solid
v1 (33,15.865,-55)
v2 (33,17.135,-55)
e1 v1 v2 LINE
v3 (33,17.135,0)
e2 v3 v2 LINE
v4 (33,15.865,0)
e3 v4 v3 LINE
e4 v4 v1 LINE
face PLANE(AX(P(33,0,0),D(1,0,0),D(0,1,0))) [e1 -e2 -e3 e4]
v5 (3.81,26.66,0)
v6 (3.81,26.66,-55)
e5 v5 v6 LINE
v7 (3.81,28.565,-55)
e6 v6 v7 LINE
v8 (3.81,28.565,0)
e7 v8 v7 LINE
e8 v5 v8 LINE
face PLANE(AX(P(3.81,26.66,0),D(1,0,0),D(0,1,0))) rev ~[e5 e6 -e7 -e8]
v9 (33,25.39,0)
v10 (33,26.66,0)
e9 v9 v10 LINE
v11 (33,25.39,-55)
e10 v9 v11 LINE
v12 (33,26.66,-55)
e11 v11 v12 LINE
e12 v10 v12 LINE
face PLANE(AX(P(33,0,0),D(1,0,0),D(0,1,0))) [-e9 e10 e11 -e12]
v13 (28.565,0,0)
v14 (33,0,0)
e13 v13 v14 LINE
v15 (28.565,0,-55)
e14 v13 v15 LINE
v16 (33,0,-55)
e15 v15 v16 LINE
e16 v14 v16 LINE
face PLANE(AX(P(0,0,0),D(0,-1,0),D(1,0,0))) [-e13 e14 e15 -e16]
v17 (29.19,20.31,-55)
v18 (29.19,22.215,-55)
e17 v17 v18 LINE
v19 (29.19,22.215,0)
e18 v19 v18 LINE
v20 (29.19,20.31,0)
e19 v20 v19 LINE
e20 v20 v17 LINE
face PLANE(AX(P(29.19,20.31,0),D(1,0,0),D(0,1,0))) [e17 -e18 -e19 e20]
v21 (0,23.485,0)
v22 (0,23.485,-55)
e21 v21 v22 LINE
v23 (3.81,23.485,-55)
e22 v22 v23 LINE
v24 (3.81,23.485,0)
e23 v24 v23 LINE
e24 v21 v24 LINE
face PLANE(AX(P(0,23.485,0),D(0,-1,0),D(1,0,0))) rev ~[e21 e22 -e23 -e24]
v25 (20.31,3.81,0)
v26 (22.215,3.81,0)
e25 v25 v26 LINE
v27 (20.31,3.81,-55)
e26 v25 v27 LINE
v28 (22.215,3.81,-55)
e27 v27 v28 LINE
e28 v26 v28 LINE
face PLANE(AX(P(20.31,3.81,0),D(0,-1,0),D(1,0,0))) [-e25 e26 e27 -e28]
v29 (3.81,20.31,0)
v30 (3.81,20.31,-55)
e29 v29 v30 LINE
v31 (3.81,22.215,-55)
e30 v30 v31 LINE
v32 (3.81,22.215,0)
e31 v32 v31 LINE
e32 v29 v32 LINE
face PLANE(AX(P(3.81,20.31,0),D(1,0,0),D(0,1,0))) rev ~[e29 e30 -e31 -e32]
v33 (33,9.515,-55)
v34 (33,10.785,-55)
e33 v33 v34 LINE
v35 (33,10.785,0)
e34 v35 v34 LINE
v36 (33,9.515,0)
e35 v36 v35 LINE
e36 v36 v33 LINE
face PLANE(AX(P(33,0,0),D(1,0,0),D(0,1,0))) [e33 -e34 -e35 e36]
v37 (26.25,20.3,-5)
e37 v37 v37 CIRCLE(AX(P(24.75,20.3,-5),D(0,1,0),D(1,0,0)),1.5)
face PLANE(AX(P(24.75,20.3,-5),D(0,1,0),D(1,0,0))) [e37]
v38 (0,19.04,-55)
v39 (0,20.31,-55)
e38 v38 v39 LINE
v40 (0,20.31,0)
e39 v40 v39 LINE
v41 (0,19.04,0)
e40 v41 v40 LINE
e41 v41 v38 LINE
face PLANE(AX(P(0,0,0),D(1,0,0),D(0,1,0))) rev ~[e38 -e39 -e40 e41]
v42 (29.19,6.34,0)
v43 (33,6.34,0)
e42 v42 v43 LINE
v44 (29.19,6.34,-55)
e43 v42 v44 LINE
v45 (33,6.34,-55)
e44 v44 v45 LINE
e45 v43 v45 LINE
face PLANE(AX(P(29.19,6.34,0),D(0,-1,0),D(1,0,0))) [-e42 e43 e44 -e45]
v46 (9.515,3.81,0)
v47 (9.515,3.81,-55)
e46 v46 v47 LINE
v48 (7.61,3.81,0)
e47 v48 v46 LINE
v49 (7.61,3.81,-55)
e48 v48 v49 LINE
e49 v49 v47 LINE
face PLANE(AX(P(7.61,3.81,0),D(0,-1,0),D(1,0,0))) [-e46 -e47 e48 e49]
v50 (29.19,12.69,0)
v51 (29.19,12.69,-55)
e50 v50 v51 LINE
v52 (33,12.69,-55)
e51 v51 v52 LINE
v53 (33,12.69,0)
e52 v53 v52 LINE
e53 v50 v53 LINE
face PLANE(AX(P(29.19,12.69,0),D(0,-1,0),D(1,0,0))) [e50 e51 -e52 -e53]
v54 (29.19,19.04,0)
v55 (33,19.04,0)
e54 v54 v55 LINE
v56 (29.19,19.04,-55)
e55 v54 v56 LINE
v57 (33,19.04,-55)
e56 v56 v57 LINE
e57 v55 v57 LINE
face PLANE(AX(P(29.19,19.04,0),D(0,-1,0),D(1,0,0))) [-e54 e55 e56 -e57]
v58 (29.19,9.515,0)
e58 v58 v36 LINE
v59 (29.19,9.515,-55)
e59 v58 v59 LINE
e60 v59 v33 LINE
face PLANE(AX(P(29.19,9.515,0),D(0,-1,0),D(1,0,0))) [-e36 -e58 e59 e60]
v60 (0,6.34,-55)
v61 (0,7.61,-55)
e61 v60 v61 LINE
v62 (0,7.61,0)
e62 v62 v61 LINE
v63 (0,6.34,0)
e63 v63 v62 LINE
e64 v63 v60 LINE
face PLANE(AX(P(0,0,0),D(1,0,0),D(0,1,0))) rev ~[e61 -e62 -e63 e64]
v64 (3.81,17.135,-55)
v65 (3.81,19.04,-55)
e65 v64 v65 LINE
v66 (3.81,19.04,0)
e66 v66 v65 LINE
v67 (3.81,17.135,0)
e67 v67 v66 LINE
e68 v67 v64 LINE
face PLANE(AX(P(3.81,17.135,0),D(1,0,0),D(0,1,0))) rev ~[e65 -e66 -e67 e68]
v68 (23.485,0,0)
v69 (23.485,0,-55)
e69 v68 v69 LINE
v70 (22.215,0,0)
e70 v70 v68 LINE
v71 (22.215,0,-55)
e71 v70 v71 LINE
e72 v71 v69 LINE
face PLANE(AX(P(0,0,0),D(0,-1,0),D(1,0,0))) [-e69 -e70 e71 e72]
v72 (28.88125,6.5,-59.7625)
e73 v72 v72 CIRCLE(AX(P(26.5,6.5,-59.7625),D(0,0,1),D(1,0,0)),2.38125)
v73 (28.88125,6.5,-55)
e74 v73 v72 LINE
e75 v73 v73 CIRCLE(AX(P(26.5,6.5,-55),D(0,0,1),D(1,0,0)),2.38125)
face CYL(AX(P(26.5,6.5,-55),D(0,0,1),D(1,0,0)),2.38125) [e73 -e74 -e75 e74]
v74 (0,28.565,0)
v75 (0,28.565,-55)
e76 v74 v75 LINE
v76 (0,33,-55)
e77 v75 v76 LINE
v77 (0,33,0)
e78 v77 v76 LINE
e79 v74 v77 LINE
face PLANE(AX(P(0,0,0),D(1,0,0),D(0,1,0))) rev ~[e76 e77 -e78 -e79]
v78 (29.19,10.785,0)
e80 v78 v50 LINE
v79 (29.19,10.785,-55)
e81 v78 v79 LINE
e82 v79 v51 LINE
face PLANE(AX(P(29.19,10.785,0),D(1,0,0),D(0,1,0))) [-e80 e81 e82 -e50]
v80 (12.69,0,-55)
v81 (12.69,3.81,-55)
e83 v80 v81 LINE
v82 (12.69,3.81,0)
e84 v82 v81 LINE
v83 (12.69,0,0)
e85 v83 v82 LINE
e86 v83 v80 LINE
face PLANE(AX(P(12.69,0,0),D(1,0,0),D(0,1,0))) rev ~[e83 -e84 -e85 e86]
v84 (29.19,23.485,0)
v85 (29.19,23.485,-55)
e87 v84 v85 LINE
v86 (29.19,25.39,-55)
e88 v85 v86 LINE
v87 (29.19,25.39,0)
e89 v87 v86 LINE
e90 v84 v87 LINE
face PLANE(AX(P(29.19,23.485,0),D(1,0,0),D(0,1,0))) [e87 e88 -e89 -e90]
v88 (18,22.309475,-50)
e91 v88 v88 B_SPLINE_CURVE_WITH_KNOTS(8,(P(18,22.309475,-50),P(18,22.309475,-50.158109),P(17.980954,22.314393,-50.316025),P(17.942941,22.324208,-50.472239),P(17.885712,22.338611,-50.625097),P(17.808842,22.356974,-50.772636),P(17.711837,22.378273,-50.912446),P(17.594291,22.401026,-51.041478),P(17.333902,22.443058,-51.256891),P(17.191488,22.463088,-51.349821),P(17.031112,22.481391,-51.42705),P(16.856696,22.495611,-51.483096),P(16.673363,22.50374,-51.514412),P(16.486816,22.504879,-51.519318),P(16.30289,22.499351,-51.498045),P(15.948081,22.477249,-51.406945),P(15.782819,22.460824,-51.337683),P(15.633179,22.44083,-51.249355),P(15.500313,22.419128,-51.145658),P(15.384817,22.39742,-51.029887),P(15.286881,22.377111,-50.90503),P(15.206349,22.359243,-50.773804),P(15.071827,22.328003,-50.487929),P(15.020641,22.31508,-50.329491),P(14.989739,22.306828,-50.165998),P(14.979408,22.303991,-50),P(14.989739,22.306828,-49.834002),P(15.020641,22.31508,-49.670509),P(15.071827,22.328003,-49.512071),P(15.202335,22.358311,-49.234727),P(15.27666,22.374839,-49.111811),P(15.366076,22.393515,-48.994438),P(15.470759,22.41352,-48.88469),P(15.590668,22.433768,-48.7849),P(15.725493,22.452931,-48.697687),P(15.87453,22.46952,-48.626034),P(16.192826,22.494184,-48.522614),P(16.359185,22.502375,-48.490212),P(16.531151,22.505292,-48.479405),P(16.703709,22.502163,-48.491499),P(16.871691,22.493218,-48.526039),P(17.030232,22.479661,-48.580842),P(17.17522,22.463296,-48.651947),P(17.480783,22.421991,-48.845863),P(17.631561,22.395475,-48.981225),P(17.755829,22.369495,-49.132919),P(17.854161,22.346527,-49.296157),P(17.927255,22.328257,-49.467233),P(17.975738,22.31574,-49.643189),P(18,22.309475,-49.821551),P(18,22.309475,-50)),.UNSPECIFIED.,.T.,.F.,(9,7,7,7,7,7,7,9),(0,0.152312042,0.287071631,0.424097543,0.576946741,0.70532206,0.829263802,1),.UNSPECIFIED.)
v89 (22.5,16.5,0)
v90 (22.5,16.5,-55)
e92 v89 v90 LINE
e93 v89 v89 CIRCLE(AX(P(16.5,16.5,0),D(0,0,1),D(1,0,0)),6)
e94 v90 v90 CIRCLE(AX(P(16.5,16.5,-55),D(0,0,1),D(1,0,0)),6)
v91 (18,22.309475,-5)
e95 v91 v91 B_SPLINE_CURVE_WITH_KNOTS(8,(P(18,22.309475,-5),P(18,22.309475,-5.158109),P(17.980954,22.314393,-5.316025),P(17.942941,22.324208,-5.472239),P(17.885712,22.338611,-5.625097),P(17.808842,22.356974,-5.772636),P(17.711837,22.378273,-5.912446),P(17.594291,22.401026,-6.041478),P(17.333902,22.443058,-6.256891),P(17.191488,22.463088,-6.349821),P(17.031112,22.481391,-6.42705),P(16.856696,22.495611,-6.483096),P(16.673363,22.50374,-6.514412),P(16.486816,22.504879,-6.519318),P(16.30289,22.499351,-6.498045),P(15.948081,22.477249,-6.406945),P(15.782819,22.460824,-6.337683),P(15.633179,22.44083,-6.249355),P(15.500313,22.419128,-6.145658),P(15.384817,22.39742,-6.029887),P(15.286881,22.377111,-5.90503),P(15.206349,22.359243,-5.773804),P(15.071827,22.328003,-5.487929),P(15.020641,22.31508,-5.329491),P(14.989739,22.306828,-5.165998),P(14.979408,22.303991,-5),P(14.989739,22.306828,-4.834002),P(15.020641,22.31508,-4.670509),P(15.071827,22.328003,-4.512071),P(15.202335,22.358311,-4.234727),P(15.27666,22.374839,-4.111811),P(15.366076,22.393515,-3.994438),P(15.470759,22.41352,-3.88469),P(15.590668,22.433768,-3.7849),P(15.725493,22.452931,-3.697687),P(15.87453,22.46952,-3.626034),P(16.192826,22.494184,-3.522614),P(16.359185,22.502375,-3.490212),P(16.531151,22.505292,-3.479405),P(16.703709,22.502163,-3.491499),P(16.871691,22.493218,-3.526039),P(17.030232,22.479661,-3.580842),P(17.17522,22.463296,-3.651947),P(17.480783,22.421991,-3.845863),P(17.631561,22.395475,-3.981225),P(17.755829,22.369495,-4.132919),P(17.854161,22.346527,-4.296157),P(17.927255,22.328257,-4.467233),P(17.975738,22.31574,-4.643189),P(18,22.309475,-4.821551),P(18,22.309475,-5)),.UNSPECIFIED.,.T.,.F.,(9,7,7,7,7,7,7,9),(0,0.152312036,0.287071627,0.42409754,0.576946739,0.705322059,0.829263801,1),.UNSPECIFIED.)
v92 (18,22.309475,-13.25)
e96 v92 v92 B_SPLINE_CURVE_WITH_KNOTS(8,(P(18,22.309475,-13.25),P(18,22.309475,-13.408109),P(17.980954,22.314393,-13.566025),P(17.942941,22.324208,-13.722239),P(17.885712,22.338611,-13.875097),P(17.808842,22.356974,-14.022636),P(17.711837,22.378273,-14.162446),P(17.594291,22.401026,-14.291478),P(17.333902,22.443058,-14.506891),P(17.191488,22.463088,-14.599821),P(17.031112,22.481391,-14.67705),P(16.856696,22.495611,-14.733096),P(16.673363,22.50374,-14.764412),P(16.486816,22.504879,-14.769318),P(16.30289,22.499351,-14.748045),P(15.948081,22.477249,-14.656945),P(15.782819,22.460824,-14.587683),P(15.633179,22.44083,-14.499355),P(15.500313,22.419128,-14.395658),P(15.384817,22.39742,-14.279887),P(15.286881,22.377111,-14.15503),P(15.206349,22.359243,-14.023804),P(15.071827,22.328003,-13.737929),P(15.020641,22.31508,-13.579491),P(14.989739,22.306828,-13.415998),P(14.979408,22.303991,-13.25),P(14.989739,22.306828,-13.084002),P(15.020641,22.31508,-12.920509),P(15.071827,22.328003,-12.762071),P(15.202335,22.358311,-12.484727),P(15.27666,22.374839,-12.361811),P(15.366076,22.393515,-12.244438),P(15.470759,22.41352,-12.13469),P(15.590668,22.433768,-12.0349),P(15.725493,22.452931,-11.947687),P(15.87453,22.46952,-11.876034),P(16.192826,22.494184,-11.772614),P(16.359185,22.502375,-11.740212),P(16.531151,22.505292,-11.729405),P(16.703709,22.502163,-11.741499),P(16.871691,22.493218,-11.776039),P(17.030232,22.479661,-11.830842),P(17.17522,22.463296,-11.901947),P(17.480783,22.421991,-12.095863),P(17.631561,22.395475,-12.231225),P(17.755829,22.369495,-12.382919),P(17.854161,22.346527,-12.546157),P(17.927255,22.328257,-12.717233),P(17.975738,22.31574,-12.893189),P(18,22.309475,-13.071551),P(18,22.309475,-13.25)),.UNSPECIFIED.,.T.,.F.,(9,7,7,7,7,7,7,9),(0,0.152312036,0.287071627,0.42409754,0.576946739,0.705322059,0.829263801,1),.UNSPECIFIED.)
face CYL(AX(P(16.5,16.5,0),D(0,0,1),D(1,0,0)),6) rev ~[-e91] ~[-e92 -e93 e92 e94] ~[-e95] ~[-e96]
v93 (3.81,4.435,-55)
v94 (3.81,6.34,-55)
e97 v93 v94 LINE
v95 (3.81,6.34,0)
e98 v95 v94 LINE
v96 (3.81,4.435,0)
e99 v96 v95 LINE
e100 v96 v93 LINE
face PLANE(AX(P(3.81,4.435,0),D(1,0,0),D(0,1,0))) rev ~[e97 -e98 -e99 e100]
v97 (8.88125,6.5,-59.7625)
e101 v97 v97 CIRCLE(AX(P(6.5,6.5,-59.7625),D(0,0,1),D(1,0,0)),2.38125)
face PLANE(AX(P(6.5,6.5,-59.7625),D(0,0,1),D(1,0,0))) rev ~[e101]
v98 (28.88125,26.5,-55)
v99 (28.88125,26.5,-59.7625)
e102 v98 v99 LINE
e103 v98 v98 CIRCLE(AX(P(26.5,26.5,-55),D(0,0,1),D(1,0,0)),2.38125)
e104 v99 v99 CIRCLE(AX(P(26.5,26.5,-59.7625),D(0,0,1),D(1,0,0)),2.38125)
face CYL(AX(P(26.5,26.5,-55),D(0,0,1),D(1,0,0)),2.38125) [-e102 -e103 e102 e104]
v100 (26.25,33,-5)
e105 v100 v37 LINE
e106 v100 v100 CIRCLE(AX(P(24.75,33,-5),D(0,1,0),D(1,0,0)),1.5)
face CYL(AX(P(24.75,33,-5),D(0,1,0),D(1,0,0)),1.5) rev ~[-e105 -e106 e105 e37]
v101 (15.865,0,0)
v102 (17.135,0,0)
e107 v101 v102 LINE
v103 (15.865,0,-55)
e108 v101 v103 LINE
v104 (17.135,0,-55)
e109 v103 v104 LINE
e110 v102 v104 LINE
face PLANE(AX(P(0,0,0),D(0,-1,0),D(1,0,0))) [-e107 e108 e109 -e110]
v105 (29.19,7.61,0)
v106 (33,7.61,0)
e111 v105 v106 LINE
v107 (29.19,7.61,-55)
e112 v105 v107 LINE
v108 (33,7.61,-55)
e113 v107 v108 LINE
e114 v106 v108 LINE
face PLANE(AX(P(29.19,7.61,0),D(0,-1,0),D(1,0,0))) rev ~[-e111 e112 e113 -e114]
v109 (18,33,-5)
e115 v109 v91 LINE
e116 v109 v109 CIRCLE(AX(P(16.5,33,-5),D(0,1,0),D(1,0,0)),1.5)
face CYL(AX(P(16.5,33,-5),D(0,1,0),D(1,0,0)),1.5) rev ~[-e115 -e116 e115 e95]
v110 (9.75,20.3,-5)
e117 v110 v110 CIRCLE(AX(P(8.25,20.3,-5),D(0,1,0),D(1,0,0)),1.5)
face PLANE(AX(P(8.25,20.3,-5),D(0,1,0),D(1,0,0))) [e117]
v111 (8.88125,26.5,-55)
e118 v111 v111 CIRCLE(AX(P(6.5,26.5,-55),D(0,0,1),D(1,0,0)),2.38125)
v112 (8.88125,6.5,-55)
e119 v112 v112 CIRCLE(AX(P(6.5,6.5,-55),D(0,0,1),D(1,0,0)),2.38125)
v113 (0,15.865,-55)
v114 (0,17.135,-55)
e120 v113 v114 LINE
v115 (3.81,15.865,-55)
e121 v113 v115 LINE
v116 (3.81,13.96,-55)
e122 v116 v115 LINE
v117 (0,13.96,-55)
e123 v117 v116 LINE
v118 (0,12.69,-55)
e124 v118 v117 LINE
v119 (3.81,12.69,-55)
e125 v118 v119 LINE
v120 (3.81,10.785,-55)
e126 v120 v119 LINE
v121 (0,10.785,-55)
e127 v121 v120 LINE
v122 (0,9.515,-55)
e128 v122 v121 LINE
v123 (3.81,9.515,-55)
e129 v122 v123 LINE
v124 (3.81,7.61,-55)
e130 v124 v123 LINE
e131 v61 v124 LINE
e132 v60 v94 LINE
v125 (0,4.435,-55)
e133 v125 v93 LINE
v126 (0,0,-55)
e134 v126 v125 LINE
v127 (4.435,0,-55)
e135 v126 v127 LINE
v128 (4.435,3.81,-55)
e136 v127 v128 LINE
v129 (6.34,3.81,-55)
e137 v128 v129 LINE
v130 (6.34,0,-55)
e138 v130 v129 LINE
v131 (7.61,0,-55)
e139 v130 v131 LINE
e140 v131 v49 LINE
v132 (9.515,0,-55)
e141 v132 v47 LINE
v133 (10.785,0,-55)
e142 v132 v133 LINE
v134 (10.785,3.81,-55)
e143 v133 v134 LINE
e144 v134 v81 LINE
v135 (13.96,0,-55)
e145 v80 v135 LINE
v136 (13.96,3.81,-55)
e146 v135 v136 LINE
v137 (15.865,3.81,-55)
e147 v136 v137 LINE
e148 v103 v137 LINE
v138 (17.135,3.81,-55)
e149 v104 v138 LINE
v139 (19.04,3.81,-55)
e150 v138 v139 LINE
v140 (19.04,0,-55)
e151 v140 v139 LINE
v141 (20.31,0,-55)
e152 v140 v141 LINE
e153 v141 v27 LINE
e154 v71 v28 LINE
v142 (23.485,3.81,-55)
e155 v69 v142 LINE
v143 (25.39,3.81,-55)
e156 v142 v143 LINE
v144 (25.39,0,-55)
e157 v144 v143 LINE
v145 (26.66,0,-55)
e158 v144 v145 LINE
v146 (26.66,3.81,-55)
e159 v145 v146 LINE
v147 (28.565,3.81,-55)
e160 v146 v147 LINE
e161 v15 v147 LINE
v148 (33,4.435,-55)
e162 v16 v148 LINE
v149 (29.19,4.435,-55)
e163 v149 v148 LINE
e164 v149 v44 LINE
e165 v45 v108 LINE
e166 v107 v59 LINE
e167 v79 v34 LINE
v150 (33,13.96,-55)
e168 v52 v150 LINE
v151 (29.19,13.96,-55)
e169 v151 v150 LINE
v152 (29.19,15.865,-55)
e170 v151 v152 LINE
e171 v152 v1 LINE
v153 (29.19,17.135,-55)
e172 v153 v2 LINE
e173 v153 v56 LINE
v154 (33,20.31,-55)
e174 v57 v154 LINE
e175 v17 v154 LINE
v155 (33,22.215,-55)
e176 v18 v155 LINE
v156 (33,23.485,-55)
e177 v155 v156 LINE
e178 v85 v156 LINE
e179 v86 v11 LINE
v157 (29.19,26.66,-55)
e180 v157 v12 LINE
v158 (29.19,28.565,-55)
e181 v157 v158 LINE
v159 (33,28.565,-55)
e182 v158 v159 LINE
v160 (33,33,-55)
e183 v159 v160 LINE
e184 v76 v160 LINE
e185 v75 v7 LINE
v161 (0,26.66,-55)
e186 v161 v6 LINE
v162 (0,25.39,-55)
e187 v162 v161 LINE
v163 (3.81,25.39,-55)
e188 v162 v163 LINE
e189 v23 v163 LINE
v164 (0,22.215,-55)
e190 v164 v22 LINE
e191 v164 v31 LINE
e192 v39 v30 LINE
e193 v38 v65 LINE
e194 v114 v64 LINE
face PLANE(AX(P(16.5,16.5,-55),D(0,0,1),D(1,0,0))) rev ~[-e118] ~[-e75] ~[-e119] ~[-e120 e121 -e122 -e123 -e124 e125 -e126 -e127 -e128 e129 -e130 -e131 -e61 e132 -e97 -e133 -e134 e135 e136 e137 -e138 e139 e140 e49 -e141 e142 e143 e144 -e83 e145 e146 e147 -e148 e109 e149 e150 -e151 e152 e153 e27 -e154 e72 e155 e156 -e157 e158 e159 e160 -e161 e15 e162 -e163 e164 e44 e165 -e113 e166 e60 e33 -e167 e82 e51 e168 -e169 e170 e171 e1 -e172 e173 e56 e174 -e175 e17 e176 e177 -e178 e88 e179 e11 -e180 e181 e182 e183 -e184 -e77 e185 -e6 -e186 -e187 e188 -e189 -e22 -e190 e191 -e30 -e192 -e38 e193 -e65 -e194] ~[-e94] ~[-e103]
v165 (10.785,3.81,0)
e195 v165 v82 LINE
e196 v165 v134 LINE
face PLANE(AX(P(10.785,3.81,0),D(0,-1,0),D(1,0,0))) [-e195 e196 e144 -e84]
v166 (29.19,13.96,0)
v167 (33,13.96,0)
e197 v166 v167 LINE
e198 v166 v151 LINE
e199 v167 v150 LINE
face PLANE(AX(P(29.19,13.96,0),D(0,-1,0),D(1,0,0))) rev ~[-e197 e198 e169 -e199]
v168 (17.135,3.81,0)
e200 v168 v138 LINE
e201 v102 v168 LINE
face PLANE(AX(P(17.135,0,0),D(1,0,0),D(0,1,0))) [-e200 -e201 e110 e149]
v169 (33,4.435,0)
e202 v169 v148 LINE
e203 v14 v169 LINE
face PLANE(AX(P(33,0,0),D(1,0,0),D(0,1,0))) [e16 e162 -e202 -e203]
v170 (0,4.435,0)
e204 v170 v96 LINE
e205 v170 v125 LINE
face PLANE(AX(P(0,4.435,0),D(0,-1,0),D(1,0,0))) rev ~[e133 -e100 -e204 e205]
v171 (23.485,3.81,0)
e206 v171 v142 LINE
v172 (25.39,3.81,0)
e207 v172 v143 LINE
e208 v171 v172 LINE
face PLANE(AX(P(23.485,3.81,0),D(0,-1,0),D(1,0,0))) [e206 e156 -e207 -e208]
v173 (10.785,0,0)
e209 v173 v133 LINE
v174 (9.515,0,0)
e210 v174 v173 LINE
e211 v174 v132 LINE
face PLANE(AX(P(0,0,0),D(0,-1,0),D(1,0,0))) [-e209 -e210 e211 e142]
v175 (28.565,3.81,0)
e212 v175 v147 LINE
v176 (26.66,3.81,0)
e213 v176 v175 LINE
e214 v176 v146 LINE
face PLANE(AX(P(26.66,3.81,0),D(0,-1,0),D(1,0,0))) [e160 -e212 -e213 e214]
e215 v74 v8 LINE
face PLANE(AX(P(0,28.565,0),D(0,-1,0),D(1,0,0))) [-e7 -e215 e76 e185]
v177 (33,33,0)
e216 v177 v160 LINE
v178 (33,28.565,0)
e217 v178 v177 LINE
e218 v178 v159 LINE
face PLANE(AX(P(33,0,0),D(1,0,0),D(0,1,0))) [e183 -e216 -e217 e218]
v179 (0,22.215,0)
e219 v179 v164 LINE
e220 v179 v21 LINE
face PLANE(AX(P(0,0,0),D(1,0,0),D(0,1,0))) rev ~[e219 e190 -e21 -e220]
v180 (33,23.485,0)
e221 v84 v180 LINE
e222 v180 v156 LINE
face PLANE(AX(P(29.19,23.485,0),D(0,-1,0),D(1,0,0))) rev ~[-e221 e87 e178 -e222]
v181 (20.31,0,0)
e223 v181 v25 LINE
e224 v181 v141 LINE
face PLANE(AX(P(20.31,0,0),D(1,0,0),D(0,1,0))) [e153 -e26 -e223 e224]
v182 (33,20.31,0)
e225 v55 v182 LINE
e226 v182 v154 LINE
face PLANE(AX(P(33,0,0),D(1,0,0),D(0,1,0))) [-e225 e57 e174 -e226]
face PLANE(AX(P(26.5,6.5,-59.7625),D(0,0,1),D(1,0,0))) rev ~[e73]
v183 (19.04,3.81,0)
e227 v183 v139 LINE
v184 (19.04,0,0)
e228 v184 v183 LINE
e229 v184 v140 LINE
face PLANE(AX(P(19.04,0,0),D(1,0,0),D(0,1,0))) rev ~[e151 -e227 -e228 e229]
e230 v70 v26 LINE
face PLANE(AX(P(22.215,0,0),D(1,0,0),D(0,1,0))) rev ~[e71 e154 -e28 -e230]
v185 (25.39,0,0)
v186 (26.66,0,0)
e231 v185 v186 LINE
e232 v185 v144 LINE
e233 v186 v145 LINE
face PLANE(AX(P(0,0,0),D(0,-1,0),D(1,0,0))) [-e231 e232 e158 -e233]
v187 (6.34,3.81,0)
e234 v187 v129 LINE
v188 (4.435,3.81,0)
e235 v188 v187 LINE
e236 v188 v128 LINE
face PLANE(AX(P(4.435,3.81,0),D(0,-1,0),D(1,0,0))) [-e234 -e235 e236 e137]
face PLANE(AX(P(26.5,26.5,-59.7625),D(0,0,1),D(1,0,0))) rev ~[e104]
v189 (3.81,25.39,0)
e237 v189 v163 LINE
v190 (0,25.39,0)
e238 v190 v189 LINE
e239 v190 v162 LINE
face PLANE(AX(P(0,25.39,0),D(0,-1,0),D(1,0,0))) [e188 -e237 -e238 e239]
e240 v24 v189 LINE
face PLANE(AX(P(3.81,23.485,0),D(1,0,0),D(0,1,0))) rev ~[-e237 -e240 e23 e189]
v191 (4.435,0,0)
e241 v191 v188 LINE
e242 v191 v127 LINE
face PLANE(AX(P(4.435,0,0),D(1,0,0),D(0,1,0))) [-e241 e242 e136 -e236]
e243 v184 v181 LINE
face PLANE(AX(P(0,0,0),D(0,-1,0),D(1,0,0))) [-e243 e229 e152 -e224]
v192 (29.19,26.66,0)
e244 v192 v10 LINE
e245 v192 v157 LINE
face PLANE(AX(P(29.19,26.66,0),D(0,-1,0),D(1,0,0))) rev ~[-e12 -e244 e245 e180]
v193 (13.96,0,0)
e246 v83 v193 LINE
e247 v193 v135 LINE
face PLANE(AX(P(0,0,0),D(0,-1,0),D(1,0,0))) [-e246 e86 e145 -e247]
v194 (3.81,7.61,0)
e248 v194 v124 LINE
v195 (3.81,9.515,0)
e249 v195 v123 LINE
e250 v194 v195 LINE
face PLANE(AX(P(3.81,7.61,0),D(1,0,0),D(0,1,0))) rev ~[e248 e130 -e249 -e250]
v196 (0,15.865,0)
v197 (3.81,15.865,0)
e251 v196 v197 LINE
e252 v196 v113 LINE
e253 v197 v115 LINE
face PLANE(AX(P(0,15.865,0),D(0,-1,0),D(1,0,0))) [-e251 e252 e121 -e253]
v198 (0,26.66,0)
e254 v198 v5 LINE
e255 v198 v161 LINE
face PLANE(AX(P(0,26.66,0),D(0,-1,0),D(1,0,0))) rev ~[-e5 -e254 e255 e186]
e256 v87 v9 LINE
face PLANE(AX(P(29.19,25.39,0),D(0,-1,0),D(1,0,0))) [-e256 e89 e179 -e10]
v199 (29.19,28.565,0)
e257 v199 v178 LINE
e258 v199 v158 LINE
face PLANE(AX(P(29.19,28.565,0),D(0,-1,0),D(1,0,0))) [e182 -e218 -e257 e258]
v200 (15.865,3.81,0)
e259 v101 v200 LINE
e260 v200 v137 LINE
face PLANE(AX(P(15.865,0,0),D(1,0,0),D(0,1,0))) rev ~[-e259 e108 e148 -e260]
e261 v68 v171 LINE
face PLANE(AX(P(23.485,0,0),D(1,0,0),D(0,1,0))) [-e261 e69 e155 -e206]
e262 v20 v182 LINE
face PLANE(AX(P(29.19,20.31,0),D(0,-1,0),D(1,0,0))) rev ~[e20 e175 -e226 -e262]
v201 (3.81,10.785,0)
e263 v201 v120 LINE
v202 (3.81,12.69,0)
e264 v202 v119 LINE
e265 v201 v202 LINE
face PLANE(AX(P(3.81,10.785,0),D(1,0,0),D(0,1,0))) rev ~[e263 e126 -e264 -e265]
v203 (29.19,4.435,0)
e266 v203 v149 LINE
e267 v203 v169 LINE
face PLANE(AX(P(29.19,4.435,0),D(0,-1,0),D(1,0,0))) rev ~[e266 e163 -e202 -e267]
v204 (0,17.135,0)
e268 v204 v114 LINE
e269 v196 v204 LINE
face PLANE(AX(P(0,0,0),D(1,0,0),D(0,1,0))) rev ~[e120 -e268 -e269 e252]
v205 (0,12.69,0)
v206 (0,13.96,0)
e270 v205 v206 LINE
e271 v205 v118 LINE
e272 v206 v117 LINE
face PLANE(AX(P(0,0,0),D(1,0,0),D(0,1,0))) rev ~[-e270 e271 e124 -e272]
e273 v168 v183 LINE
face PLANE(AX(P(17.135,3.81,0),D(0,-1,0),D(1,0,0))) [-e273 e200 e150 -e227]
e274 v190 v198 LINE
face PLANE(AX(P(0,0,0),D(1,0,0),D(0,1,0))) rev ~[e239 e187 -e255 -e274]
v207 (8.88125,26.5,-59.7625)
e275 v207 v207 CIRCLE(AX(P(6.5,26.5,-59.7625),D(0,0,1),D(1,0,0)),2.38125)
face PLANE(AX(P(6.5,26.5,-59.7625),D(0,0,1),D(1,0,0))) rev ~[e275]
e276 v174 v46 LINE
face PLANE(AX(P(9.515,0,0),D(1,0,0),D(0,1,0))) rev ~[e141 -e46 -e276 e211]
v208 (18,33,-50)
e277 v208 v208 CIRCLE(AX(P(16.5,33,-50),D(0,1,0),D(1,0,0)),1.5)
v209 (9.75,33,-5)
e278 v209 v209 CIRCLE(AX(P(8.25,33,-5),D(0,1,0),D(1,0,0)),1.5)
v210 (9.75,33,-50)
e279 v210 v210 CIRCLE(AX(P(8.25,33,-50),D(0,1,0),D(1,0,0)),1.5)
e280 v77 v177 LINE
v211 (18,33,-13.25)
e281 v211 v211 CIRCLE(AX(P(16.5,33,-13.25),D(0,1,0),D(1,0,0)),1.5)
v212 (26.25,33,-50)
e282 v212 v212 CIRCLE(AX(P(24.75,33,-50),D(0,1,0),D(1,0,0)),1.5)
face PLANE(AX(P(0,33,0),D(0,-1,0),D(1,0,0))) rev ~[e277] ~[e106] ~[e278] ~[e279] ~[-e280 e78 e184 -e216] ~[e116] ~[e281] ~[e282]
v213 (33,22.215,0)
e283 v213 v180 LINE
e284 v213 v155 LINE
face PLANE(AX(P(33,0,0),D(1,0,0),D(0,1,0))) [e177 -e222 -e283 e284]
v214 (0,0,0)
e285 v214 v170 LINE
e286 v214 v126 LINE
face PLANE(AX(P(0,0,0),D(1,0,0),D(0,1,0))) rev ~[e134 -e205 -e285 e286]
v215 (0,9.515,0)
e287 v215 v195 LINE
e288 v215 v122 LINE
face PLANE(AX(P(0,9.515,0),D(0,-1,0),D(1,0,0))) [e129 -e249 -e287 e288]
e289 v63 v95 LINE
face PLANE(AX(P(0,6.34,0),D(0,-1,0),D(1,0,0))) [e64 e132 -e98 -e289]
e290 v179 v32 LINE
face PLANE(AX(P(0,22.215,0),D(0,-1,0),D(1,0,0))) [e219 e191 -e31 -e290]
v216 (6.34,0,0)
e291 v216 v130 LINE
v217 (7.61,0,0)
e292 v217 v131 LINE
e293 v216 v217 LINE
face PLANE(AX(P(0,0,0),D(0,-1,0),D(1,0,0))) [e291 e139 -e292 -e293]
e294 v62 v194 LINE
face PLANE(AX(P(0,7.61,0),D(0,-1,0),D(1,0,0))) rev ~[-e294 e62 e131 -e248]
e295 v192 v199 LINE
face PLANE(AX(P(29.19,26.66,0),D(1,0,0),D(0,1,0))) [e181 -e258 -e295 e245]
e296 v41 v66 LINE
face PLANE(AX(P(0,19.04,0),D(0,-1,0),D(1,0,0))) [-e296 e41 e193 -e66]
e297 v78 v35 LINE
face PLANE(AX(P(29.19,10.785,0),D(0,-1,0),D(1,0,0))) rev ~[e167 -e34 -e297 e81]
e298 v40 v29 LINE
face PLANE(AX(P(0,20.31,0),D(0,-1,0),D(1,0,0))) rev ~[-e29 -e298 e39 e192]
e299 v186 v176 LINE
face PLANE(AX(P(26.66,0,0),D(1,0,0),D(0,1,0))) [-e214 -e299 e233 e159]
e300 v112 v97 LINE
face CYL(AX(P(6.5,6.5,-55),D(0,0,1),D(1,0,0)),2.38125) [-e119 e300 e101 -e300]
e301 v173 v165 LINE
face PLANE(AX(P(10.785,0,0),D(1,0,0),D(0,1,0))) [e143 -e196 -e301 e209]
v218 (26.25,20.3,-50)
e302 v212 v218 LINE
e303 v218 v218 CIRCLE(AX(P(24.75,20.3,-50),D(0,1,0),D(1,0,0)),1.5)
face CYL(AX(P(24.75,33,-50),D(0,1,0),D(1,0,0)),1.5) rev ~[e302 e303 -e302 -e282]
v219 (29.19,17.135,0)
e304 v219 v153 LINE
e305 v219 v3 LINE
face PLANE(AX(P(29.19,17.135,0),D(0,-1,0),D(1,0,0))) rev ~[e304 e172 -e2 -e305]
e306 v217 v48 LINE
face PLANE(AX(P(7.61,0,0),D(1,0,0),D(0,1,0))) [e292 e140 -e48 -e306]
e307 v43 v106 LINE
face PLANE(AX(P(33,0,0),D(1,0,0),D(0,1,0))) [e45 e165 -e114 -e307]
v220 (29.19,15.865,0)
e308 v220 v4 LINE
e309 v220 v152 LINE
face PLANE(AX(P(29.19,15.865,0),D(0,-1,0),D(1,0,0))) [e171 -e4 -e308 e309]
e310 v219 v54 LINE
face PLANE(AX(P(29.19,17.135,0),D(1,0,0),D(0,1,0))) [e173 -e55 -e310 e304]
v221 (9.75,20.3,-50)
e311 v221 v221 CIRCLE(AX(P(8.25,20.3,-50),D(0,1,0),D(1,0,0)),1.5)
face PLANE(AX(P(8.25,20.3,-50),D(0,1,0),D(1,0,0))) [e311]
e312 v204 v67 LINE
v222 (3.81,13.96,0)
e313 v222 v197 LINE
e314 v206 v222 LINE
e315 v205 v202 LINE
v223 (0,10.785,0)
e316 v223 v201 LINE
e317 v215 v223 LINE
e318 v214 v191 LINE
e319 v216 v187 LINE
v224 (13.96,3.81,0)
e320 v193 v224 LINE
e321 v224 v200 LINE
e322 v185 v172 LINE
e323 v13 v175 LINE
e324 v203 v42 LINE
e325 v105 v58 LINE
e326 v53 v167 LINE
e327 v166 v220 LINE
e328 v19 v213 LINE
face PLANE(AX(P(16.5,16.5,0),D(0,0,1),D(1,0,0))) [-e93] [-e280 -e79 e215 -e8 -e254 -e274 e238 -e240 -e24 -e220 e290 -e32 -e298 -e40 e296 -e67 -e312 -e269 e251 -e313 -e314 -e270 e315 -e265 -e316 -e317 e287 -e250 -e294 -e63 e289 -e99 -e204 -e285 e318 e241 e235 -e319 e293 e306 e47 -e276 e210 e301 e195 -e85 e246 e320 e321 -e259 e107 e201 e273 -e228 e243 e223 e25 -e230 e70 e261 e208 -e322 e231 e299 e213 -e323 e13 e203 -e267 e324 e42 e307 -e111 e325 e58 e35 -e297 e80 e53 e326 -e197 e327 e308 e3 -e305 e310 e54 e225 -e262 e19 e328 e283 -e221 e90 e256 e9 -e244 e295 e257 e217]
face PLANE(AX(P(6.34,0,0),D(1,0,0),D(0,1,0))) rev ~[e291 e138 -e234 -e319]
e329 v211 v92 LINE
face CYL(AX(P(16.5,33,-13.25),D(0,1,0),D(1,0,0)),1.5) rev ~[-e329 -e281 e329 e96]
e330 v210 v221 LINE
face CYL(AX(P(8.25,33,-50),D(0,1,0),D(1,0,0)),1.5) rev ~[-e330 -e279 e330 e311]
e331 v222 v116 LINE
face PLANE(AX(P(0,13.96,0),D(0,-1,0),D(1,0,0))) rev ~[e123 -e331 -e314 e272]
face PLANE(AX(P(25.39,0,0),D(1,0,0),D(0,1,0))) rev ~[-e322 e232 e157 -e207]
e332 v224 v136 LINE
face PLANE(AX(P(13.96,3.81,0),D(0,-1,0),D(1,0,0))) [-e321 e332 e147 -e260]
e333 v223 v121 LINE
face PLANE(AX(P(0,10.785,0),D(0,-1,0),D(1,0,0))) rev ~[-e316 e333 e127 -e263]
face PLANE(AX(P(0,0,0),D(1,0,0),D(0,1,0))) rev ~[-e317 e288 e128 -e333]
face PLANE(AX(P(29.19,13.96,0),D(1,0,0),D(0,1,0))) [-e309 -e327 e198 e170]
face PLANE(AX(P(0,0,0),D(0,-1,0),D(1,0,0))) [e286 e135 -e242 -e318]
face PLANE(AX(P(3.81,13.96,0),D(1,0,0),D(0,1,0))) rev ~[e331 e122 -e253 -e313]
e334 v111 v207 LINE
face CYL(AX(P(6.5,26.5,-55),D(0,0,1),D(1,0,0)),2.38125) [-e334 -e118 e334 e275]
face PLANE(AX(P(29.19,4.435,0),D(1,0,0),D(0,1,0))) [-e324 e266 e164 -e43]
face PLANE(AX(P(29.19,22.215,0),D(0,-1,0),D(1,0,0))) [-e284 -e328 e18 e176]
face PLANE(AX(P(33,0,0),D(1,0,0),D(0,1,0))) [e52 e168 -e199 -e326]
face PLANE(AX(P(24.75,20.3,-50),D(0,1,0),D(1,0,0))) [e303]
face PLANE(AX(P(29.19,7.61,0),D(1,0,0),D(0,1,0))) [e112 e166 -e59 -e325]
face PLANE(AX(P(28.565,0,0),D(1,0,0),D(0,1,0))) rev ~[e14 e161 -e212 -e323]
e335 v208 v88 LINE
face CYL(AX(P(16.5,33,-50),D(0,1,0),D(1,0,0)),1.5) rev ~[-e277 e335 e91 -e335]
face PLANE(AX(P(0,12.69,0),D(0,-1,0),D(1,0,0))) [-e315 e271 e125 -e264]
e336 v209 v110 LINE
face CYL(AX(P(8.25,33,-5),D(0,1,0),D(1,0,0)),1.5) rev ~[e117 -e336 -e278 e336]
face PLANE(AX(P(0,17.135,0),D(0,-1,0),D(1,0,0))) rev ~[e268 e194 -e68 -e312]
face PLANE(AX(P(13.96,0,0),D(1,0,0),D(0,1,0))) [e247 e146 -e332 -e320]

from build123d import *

# Parameters (mm, degrees)
SKETCH1_W           = 33
SKETCH1_H           = 33
SKETCH1_R           = 6
BOSS_EXTRUDE1_DEPTH = 55
SKETCH2_R           = 1.5
CUT_EXTRUDE1_DEPTH  = 12.7
SKETCH5_W           = 3.81
SKETCH5_H           = 1.905
SKETCH5_W_2         = 1.905
SKETCH5_H_2         = 3.81
CUT_EXTRUDE2_DEPTH  = 56.0000001
SKETCH3_R           = 2.38125
BOSS_EXTRUDE2_DEPTH = 4.7625


with BuildPart() as part:
    # Sketch1 → Boss-Extrude1 (new body)
    with BuildSketch(Plane.XY):
        with Locations((16.5, 16.5)):
            Rectangle(SKETCH1_W, SKETCH1_H)
        with Locations((16.5, 16.5)):
            Circle(SKETCH1_R, mode=Mode.SUBTRACT)
    extrude(amount=-BOSS_EXTRUDE1_DEPTH)

    # Sketch2 → Cut-Extrude1 (cut)
    with BuildSketch(Plane(origin=(0, 33, 0), x_dir=(1, 0, 0), z_dir=(0, 1, 0))):
        with Locations((8.25, 5)):
            Circle(SKETCH2_R)
        with Locations((16.5, 5)):
            Circle(SKETCH2_R)
        with Locations((24.75, 5)):
            Circle(SKETCH2_R)
        with Locations((8.25, 50)):
            Circle(SKETCH2_R)
        with Locations((16.5, 50)):
            Circle(SKETCH2_R)
        with Locations((24.75, 50)):
            Circle(SKETCH2_R)
        with Locations((16.5, 13.25)):
            Circle(SKETCH2_R)
    extrude(amount=-CUT_EXTRUDE1_DEPTH, mode=Mode.SUBTRACT)

    # Sketch5 → Cut-Extrude2 (cut, through all)
    with BuildSketch(Plane.XY):
        with Locations((1.905, 27.6125)):
            Rectangle(SKETCH5_W, SKETCH5_H)
        with Locations((1.905, 24.4375)):
            Rectangle(SKETCH5_W, SKETCH5_H)
        with Locations((1.905, 21.2625)):
            Rectangle(SKETCH5_W, SKETCH5_H)
        with Locations((1.905, 18.0875)):
            Rectangle(SKETCH5_W, SKETCH5_H)
        with Locations((1.905, 14.9125)):
            Rectangle(SKETCH5_W, SKETCH5_H)
        with Locations((1.905, 11.7375)):
            Rectangle(SKETCH5_W, SKETCH5_H)
        with Locations((1.905, 8.5625)):
            Rectangle(SKETCH5_W, SKETCH5_H)
        with Locations((1.905, 5.3875)):
            Rectangle(SKETCH5_W, SKETCH5_H)
        with Locations((5.3875, 1.905)):
            Rectangle(SKETCH5_W_2, SKETCH5_H_2)
        with Locations((8.5625, 1.905)):
            Rectangle(SKETCH5_W_2, SKETCH5_H_2)
        with Locations((11.7375, 1.905)):
            Rectangle(SKETCH5_W_2, SKETCH5_H_2)
        with Locations((14.9125, 1.905)):
            Rectangle(SKETCH5_W_2, SKETCH5_H_2)
        with Locations((18.0875, 1.905)):
            Rectangle(SKETCH5_W_2, SKETCH5_H_2)
        with Locations((21.2625, 1.905)):
            Rectangle(SKETCH5_W_2, SKETCH5_H_2)
        with Locations((24.4375, 1.905)):
            Rectangle(SKETCH5_W_2, SKETCH5_H_2)
        with Locations((27.6125, 1.905)):
            Rectangle(SKETCH5_W_2, SKETCH5_H_2)
        with Locations((31.095, 5.3875)):
            Rectangle(SKETCH5_W, SKETCH5_H)
        with Locations((31.095, 8.5625)):
            Rectangle(SKETCH5_W, SKETCH5_H)
        with Locations((31.095, 11.7375)):
            Rectangle(SKETCH5_W, SKETCH5_H)
        with Locations((31.095, 14.9125)):
            Rectangle(SKETCH5_W, SKETCH5_H)
        with Locations((31.095, 18.0875)):
            Rectangle(SKETCH5_W, SKETCH5_H)
        with Locations((31.095, 21.2625)):
            Rectangle(SKETCH5_W, SKETCH5_H)
        with Locations((31.095, 24.4375)):
            Rectangle(SKETCH5_W, SKETCH5_H)
        with Locations((31.095, 27.6125)):
            Rectangle(SKETCH5_W, SKETCH5_H)
    extrude(amount=-CUT_EXTRUDE2_DEPTH, mode=Mode.SUBTRACT)

    # Sketch3 → Boss-Extrude2 (add)
    with BuildSketch(Plane.XY.offset(-55)):
        with Locations((6.5, 26.5)):
            Circle(SKETCH3_R)
        with Locations((26.5, 26.5)):
            Circle(SKETCH3_R)
        with Locations((26.5, 6.5)):
            Circle(SKETCH3_R)
        with Locations((6.5, 6.5)):
            Circle(SKETCH3_R)
    extrude(amount=-BOSS_EXTRUDE2_DEPTH)


solid = part.part
